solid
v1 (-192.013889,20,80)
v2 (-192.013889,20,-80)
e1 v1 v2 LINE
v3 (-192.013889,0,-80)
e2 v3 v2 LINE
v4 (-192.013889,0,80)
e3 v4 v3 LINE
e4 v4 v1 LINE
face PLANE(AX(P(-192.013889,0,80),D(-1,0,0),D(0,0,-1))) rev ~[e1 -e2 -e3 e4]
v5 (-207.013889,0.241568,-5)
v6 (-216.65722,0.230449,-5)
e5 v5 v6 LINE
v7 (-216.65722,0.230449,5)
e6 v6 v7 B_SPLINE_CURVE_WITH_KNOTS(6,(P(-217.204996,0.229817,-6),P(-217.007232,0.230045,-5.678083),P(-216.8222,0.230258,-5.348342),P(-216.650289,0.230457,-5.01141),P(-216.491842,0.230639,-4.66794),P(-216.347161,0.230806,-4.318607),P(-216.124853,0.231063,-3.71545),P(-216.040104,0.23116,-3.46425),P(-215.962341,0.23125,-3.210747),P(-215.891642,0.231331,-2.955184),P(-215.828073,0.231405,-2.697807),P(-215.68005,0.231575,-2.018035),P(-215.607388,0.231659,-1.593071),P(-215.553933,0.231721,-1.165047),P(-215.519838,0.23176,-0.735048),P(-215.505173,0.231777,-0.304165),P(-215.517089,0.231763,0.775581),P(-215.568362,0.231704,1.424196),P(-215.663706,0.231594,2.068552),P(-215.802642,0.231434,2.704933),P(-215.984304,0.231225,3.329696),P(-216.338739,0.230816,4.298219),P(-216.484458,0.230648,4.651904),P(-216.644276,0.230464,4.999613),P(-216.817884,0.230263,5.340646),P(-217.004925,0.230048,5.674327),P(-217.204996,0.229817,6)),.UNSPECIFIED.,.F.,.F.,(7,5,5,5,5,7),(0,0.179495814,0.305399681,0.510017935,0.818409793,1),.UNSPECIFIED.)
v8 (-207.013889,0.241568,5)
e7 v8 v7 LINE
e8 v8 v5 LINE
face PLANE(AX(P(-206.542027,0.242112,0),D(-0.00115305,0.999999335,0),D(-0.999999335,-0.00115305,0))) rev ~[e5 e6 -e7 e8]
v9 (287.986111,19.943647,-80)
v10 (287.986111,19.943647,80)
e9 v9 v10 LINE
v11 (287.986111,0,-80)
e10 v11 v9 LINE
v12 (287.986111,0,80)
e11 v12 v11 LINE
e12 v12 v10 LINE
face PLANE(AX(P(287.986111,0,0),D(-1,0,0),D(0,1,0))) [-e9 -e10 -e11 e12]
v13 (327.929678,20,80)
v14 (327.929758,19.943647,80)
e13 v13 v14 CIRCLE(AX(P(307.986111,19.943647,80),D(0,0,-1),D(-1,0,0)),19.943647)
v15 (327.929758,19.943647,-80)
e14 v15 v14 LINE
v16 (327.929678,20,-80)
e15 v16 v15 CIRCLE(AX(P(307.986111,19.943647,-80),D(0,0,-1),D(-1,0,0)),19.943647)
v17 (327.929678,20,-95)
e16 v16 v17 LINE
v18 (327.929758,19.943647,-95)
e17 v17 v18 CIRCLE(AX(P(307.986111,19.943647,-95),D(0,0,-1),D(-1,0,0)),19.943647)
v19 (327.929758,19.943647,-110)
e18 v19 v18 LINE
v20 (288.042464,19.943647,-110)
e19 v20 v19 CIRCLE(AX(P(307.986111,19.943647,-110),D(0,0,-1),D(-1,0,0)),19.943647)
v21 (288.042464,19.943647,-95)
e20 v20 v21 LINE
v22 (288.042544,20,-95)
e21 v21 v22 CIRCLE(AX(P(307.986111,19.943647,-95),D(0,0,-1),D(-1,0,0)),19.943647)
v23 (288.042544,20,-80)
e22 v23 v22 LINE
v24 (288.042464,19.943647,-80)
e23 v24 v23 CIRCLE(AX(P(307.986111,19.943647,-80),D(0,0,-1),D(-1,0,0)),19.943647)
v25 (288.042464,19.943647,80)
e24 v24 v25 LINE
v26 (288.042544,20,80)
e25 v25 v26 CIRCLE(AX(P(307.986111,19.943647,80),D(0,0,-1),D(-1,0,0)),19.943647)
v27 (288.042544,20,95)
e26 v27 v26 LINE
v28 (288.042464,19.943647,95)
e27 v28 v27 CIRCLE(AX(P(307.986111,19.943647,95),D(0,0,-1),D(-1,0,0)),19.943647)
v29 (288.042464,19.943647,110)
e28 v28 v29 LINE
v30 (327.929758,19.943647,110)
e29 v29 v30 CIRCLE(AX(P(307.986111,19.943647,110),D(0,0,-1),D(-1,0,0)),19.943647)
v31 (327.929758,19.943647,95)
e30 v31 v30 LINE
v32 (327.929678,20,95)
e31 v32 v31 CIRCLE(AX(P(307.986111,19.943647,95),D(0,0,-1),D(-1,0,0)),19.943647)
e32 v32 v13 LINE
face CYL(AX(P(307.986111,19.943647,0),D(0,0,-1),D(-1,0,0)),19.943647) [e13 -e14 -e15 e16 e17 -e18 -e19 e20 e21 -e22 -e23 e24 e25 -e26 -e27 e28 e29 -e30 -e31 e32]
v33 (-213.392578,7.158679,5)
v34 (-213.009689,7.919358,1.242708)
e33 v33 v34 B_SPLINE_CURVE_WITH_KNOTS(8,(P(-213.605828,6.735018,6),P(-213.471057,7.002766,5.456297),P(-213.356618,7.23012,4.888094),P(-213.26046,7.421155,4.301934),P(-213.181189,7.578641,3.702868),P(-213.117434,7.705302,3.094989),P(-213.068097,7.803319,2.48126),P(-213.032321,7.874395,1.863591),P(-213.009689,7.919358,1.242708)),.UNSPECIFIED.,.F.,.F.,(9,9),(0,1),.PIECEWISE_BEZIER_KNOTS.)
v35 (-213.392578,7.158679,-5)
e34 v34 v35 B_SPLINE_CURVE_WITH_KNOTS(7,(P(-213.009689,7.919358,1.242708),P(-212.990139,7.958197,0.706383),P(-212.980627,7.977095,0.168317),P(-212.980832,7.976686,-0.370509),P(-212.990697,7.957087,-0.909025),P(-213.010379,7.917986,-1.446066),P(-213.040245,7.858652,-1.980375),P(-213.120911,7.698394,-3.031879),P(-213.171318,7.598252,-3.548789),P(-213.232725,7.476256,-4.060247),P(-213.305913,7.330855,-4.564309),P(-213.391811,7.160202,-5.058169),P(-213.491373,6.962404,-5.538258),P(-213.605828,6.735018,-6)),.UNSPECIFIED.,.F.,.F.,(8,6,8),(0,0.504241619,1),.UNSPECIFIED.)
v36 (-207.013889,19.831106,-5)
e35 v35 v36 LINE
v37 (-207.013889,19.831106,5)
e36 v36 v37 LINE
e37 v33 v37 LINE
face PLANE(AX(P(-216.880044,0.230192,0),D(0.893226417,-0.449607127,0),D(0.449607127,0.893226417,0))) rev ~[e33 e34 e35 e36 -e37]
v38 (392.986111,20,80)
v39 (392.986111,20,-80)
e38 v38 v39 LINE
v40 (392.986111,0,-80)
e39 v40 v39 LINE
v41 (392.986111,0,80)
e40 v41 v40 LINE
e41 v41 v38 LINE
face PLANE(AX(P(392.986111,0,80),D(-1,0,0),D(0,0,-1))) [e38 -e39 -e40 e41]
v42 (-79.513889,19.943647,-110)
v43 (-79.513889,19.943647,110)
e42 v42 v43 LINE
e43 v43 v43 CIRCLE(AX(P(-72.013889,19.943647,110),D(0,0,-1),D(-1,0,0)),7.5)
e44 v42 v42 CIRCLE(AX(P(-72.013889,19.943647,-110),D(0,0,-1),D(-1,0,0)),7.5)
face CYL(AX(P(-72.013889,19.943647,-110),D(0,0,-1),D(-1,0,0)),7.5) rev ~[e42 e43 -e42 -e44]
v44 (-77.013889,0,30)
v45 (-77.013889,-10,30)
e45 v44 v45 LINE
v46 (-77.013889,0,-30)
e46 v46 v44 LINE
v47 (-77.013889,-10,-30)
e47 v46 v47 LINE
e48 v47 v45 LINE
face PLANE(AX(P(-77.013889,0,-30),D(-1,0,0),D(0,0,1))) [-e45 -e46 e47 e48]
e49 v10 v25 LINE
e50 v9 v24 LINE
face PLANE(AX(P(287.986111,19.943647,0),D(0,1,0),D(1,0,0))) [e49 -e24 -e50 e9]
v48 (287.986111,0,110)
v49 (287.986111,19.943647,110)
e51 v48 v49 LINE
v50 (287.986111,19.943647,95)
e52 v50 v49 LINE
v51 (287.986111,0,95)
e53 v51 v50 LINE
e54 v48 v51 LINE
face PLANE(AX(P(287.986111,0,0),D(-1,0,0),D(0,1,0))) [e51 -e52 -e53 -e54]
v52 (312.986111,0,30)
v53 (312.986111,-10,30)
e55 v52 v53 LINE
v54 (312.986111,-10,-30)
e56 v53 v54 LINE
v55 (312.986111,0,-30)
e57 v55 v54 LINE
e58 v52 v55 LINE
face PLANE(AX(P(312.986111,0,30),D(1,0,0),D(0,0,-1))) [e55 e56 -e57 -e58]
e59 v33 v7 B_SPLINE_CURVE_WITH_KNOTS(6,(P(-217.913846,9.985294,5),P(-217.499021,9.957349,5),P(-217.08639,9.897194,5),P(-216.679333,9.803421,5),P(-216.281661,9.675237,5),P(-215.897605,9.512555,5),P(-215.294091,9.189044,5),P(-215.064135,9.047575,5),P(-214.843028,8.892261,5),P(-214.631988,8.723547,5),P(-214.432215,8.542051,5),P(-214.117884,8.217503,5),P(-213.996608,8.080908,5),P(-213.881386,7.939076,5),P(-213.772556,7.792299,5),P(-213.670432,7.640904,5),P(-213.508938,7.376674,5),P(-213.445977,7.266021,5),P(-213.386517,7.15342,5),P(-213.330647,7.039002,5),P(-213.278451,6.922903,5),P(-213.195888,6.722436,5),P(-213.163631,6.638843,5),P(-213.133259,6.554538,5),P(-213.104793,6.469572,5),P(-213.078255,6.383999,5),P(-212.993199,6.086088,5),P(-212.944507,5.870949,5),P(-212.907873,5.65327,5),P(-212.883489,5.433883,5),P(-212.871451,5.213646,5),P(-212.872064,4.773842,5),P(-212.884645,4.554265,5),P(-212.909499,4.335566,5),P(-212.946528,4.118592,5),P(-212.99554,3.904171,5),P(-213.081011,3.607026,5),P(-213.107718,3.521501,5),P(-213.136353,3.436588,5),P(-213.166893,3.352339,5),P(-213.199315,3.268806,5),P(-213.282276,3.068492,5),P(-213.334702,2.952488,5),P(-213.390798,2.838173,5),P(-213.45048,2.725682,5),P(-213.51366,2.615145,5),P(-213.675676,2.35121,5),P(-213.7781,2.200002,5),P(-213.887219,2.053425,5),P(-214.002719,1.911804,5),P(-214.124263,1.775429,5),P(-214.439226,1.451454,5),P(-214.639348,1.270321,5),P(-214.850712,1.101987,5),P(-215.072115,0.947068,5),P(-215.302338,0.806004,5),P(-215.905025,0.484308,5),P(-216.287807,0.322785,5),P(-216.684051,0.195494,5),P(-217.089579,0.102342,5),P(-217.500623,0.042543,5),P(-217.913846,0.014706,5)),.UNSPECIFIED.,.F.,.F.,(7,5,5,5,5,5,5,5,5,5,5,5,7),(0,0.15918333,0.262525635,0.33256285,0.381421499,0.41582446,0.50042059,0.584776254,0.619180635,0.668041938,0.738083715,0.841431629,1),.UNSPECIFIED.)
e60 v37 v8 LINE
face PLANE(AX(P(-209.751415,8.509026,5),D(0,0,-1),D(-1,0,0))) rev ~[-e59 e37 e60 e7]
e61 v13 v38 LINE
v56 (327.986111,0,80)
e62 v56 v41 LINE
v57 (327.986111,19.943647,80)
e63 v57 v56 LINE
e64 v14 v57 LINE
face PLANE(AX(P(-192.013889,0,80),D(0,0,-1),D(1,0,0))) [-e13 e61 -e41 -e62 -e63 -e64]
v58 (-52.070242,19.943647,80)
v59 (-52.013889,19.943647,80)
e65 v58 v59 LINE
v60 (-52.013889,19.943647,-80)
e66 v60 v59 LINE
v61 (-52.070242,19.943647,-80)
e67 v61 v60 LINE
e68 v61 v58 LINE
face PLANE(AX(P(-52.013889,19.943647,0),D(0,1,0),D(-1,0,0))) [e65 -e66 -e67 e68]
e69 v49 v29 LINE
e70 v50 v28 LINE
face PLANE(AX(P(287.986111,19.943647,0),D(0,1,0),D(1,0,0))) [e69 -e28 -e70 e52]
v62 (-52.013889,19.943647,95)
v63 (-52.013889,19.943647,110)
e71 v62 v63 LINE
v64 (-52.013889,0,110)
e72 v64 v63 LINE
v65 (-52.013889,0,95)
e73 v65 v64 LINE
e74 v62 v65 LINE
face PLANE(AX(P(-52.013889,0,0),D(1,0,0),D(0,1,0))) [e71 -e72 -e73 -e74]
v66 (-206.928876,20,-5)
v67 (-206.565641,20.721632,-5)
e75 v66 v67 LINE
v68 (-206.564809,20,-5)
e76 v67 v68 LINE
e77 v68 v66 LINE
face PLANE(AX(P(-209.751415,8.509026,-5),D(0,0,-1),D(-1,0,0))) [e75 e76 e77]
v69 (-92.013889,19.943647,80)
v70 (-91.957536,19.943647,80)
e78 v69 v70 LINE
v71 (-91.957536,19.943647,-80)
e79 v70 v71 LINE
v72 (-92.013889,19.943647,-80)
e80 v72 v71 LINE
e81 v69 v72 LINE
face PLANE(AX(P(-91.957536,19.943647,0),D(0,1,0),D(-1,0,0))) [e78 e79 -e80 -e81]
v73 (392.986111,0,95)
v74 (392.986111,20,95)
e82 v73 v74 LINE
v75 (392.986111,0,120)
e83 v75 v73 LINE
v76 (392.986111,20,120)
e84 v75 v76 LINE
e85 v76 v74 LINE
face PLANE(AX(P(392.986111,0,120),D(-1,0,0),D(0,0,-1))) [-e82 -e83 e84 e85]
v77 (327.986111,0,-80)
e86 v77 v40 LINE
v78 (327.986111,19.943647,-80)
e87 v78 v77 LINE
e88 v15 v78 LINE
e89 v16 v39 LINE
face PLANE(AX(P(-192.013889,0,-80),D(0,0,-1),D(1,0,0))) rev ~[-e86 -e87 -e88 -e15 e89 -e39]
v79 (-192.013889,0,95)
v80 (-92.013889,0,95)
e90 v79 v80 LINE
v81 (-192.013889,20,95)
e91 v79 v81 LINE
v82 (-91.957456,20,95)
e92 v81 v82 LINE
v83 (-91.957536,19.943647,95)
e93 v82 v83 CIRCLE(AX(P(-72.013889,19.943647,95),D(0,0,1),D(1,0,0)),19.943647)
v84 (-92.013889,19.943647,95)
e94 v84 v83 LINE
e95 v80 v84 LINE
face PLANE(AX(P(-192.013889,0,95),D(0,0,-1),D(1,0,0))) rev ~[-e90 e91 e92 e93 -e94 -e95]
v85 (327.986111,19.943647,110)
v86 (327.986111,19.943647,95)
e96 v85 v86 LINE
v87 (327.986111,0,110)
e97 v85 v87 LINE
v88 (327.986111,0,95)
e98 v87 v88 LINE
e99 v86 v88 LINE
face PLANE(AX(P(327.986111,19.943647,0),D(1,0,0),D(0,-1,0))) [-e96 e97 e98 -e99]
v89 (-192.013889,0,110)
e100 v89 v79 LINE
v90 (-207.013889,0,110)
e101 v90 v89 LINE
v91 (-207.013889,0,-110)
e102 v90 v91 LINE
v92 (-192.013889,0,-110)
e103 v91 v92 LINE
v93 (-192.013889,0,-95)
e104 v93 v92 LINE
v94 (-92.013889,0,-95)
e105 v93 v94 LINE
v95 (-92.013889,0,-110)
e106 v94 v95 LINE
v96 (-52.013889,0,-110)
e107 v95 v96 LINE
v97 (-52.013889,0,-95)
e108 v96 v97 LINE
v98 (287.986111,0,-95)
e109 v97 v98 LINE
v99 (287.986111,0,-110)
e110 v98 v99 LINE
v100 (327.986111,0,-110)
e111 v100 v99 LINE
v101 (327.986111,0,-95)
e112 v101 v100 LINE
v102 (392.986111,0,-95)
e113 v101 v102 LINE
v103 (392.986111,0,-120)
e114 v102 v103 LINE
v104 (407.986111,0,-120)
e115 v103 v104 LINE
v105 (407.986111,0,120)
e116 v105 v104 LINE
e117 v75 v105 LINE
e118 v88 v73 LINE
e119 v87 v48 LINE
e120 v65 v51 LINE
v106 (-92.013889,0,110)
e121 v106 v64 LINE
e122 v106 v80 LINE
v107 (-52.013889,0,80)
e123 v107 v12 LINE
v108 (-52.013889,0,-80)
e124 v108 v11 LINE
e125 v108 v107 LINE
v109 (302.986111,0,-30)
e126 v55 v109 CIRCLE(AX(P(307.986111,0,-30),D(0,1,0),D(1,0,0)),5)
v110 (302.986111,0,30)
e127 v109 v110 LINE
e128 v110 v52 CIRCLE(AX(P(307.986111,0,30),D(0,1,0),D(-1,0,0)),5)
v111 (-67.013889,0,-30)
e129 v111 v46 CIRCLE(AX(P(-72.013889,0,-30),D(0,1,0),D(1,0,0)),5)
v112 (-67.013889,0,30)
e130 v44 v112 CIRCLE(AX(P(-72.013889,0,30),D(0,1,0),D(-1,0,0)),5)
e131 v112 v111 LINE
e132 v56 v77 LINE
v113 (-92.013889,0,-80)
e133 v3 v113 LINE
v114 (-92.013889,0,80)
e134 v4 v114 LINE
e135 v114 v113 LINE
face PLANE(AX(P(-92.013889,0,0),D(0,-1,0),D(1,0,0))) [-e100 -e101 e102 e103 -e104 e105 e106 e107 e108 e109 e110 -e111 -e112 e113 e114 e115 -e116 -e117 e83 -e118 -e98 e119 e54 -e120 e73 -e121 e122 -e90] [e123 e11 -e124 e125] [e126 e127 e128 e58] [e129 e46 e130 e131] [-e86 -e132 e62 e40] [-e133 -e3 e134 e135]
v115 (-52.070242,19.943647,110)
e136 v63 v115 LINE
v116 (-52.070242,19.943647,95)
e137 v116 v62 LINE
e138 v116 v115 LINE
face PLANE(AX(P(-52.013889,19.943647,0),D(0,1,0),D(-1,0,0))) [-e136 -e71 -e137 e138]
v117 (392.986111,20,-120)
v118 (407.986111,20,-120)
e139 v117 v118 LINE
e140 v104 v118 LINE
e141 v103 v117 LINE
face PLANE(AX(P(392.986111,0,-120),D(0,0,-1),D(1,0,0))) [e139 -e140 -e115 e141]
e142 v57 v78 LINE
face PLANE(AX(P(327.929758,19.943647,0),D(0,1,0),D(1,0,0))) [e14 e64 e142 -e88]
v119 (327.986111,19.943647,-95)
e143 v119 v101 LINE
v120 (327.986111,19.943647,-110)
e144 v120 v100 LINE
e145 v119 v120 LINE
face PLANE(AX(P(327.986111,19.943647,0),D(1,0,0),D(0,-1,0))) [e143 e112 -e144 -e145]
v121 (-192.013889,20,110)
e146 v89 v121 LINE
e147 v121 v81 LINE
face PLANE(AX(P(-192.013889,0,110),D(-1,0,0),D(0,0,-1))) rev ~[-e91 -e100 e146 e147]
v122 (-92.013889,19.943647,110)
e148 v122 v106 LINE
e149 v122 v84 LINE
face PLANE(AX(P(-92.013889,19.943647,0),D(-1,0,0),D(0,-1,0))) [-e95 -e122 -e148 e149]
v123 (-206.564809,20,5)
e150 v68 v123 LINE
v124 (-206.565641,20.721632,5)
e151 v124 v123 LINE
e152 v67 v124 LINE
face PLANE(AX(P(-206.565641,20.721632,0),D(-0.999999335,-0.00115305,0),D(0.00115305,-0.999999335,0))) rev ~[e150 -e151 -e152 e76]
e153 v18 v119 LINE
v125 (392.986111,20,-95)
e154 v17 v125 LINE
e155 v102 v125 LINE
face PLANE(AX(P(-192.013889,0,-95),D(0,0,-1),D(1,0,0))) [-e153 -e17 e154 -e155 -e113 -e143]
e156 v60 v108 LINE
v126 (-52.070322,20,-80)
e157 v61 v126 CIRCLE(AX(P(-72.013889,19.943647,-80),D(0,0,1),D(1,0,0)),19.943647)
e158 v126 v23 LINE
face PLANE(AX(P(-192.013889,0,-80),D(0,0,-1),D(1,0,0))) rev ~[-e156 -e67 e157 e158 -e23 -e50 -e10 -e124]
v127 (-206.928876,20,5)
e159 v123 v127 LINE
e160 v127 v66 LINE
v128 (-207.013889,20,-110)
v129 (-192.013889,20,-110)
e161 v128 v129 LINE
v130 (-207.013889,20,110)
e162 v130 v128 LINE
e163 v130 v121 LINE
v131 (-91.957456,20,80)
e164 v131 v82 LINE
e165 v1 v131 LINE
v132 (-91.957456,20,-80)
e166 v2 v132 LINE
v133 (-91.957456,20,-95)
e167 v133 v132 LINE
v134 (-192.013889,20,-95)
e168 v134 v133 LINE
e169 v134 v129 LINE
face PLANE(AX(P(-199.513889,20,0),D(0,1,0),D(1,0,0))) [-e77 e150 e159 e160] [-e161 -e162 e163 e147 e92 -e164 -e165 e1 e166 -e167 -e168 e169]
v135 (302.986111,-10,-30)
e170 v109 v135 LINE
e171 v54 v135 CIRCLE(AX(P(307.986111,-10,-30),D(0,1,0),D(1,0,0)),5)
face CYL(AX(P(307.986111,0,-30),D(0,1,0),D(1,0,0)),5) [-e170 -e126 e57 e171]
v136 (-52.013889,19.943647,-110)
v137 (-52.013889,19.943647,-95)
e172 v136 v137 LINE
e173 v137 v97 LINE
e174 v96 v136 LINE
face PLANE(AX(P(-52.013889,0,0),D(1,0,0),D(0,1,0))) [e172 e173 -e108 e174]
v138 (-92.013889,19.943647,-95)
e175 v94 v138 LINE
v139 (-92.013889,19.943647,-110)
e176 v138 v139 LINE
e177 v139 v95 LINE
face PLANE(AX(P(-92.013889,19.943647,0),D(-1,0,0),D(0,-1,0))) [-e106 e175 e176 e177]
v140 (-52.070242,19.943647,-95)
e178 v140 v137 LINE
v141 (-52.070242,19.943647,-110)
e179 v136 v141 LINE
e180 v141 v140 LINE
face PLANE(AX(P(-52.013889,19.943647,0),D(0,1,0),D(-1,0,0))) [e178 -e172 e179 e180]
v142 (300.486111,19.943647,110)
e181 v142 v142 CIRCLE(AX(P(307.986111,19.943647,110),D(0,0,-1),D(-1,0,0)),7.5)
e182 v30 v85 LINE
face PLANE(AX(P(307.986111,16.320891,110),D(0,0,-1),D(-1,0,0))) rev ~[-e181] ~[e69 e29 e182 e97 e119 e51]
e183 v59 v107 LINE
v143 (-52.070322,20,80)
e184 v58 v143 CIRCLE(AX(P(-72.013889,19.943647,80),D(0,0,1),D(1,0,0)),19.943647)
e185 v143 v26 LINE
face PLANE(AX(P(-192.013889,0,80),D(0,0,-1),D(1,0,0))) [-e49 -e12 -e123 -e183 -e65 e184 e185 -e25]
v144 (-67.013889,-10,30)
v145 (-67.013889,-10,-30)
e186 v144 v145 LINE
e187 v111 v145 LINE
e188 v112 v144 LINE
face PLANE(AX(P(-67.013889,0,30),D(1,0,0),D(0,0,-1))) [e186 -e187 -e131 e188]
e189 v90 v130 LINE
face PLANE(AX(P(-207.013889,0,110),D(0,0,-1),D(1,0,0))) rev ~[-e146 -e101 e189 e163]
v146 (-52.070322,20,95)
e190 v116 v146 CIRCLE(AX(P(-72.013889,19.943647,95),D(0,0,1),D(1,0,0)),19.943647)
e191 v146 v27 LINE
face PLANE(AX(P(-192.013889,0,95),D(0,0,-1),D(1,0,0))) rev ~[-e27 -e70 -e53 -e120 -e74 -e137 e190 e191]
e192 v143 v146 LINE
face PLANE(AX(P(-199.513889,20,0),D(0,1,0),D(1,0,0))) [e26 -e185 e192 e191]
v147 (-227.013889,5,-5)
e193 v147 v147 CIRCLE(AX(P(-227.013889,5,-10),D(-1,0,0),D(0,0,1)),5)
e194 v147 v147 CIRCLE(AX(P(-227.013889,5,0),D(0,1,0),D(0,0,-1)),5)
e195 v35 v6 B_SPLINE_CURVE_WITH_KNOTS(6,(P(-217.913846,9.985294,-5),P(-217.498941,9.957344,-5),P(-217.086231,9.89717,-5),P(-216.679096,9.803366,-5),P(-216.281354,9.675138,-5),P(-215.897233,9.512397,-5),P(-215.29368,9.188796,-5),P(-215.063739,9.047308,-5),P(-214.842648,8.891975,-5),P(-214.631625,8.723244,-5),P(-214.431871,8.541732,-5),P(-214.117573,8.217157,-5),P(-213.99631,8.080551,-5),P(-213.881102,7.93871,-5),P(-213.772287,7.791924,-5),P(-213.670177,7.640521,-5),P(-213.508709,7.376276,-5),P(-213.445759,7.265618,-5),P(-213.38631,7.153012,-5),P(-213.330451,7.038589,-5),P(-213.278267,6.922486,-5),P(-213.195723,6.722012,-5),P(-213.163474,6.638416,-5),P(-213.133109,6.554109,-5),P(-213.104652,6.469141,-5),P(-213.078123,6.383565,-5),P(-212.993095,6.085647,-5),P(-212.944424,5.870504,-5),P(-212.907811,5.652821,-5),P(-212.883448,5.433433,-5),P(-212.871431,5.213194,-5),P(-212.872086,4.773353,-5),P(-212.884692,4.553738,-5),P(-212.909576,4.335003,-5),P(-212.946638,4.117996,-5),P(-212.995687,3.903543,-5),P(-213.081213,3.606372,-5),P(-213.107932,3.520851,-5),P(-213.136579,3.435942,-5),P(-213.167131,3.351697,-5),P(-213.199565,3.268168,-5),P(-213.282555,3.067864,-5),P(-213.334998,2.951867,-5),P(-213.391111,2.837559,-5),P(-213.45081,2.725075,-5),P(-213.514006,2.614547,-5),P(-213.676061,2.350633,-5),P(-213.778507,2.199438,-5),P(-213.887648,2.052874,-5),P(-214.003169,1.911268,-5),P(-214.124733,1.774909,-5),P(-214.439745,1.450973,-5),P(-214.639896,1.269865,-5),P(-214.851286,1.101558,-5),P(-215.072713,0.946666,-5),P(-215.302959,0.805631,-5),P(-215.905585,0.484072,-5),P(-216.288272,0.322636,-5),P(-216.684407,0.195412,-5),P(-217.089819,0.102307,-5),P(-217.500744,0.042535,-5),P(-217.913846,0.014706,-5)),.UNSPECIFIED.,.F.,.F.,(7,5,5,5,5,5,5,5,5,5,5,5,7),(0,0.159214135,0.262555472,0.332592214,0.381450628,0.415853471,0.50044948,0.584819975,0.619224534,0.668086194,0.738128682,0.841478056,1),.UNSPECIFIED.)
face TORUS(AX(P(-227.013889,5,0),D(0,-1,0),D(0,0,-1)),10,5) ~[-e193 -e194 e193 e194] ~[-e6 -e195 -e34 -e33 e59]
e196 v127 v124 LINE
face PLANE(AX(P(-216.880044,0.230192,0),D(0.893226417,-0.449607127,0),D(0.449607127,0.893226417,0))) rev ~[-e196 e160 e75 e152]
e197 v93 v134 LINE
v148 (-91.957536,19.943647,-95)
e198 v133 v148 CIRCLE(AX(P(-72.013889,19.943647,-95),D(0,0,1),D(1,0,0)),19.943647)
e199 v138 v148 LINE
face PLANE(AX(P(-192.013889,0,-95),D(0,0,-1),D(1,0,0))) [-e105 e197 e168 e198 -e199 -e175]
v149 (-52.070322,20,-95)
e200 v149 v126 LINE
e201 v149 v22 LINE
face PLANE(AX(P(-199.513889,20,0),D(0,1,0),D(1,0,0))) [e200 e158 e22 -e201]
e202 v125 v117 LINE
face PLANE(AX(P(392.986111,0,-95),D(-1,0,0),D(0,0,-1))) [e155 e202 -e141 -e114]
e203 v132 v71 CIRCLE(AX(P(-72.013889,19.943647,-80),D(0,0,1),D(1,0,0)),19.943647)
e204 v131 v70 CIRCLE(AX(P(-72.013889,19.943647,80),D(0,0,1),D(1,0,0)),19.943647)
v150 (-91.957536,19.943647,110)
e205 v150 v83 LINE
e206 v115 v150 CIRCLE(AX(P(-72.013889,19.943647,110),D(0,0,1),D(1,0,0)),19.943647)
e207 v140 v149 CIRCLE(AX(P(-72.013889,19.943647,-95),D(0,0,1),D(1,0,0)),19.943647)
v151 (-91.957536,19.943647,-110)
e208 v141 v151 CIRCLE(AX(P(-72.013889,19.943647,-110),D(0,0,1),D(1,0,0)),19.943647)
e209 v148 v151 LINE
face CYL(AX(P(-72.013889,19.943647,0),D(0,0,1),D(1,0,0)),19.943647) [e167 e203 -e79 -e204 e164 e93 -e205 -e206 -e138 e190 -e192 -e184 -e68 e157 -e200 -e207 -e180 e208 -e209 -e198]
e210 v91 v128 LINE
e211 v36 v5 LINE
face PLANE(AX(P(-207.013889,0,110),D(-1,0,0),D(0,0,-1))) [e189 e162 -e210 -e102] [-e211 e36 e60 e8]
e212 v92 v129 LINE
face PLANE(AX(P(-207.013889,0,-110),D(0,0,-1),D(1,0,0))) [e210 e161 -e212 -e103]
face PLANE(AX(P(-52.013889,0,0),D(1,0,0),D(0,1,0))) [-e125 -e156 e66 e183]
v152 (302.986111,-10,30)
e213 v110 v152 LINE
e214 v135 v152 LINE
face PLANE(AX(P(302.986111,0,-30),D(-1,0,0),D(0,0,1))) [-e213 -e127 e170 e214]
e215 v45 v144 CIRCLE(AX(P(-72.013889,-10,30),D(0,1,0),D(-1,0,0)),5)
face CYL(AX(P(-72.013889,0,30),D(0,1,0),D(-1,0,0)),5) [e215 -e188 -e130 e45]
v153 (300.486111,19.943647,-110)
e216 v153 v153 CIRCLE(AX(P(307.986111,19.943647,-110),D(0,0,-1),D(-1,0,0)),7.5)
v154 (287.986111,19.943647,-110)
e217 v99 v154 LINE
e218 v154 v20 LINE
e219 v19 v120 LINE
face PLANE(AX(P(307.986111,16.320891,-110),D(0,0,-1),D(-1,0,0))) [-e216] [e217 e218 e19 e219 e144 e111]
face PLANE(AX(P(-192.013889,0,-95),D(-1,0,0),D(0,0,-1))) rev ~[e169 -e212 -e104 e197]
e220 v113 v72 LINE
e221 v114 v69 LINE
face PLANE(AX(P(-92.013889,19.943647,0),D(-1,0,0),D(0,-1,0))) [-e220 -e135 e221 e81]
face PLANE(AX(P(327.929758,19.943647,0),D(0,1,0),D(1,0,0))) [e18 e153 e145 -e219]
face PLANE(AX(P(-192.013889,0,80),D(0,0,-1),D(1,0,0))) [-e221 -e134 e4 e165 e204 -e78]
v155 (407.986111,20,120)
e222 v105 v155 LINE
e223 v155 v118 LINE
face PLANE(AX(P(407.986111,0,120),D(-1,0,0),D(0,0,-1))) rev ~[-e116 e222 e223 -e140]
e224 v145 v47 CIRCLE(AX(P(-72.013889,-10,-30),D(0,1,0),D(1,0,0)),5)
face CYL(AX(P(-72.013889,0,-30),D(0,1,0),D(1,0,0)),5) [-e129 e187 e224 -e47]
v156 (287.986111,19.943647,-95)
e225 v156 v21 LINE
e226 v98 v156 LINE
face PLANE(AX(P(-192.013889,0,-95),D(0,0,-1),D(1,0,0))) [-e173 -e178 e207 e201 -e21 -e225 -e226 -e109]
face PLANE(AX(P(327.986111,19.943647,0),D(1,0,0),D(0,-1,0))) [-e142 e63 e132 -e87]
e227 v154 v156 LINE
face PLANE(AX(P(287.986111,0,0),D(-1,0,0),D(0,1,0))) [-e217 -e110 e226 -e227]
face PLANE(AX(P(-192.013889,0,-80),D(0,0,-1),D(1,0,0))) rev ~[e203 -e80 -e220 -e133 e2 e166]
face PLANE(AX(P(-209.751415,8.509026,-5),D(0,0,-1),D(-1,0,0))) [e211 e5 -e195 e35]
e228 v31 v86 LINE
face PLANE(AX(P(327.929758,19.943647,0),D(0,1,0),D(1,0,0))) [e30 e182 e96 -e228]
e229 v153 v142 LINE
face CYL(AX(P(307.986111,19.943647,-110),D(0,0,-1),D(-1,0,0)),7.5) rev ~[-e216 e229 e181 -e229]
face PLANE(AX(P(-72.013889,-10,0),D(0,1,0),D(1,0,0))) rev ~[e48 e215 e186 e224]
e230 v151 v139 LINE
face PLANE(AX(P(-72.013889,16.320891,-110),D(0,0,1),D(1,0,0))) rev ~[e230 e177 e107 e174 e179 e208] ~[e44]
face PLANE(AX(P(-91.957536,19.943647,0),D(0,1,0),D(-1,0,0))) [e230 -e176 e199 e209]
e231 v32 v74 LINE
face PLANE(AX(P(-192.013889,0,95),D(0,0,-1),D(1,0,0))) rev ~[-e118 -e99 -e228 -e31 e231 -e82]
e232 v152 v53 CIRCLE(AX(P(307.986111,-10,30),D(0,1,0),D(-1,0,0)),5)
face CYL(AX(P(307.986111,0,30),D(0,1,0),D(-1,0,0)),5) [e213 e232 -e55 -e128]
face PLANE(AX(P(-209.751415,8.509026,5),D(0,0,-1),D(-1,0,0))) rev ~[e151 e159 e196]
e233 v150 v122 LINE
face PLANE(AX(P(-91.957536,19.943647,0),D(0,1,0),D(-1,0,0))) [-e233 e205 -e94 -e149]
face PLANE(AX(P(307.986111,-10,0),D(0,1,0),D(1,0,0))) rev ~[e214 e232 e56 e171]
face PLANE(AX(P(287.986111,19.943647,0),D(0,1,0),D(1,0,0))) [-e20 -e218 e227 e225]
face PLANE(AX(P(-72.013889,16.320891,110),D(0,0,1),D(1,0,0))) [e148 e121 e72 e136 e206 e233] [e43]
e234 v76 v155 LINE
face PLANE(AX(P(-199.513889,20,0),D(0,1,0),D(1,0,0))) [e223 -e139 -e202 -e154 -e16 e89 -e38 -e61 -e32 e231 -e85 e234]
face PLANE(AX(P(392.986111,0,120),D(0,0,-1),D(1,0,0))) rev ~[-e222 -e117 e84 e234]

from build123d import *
from build123d.topology import SkipClean

# Parameters (mm, degrees)
SKETCH1_W           = 15
SKETCH1_H           = 220
SKETCH1_H_2         = 240
SKETCH1_W_2         = 585
SKETCH1_H_3         = 15
BOSS_EXTRUDE1_DEPTH = 20
BOSS_EXTRUDE2_DEPTH = 110
SKETCH3_R           = 7.5
CUT_EXTRUDE1_DEPTH  = 471.046447738
SKETCH9_R           = 5
BOSS_EXTRUDE3_DEPTH = 5
BOSS_EXTRUDE4_DEPTH = 10


with BuildPart() as part:
    # Sketch1 → Boss-Extrude1 (new body)
    with BuildSketch(Plane(origin=(0, 0, 0), x_dir=(1, 0, 0), z_dir=(0, 1, 0))):
        with Locations((-199.513888889, 0)):
            Rectangle(SKETCH1_W, SKETCH1_H)
        with Locations((400.486111111, 0)):
            Rectangle(SKETCH1_W, SKETCH1_H_2)
        with Locations((100.486111111, -87.5)):
            Rectangle(SKETCH1_W_2, SKETCH1_H_3)
        with Locations((100.486111111, 87.5)):
            Rectangle(SKETCH1_W_2, SKETCH1_H_3)
    extrude(amount=BOSS_EXTRUDE1_DEPTH)

    # Sketch2 → Boss-Extrude2 (add, symmetric)
    with BuildSketch(Plane.XY):
        with BuildLine():
            Line((327.929757791, 19.943646679), (327.986111111, 19.943646679))
            Line((327.986111111, 19.943646679), (327.986111111, 0))
            Line((327.986111111, 0), (287.986111111, 0))
            Line((287.986111111, 0), (287.986111111, 19.943646679))
            Line((287.986111111, 19.943646679), (288.042464432, 19.943646679))
            ThreePointArc((288.042464432, 19.943646679), (307.986111111, 39.887293359), (327.929757791, 19.943646679))
        make_face()
        with BuildLine():
            Line((-92.013888889, 0), (-52.013888889, 0))
            Line((-52.013888889, 0), (-52.013888889, 19.943646679))
            Line((-52.013888889, 19.943646679), (-52.070242209, 19.943646679))
            ThreePointArc((-52.070242209, 19.943646679), (-72.013888889, 39.887293359), (-91.957535568, 19.943646679))
            Line((-91.957535568, 19.943646679), (-92.013888889, 19.943646679))
            Line((-92.013888889, 19.943646679), (-92.013888889, 0))
        make_face()
    extrude(amount=BOSS_EXTRUDE2_DEPTH, both=True)

    # Sketch3 → Cut-Extrude1 (cut, through all)
    with BuildSketch(Plane(origin=(0, 0, -110), x_dir=(-1, 0, 0), z_dir=(0, 0, -1))):
        with Locations((72.013888889, 19.943646679)):
            Circle(SKETCH3_R)
        with Locations((-307.986111111, 19.943646679)):
            Circle(SKETCH3_R)
    extrude(amount=-CUT_EXTRUDE1_DEPTH, mode=Mode.SUBTRACT)



with BuildPart() as body_2:
    # Sketch9 → Revolve1 (revolve)
    with BuildSketch(Plane.XY, mode=Mode.PRIVATE) as revolve1_sk:
        with Locations((-237.013888889, 5)):
            Circle(SKETCH9_R)
    revolve(revolve1_sk.sketch.rotate(Axis((-227.013888889, 0, 0), (0, 1, 0)), 270), axis=Axis((-227.013888889, 0, 0), (0, 1, 0)))


with BuildPart() as part_1:
    with SkipClean():  # the faces are left unmerged after this step: merging them gives an invalid solid
        add(part.part)

        add(body_2.part)  # Boss-Extrude3 merges body 2
        # Sketch12 → Boss-Extrude3 (add, symmetric)
        with BuildSketch(Plane.XY):
            Polygon((-206.542026968, 0.242112027), (-216.880044211, 0.230191772), (-206.565640886, 20.721631917), align=None)
        extrude(amount=BOSS_EXTRUDE3_DEPTH, both=True)

    # Sketch7 → Boss-Extrude4 (add)
    with SkipClean():  # the faces are left unmerged after this step: merging them gives an invalid solid
        with BuildSketch(Plane(origin=(0, 0, 0), x_dir=(-1, 0, 0), z_dir=(0, -1, 0))):
            with BuildLine():
                Line((77.013888889, 30), (77.013888889, -30))
                ThreePointArc((77.013888889, -30), (72.013888889, -35), (67.013888889, -30))
                Line((67.013888889, -30), (67.013888889, 30))
                ThreePointArc((67.013888889, 30), (72.013888889, 35), (77.013888889, 30))
            make_face()
            with BuildLine():
                Line((-302.986111111, 30), (-302.986111111, -30))
                ThreePointArc((-302.986111111, -30), (-307.986111111, -35), (-312.986111111, -30))
                Line((-312.986111111, -30), (-312.986111111, 30))
                ThreePointArc((-312.986111111, 30), (-307.986111111, 35), (-302.986111111, 30))
            make_face()
        extrude(amount=BOSS_EXTRUDE4_DEPTH)


solid = part_1.part
